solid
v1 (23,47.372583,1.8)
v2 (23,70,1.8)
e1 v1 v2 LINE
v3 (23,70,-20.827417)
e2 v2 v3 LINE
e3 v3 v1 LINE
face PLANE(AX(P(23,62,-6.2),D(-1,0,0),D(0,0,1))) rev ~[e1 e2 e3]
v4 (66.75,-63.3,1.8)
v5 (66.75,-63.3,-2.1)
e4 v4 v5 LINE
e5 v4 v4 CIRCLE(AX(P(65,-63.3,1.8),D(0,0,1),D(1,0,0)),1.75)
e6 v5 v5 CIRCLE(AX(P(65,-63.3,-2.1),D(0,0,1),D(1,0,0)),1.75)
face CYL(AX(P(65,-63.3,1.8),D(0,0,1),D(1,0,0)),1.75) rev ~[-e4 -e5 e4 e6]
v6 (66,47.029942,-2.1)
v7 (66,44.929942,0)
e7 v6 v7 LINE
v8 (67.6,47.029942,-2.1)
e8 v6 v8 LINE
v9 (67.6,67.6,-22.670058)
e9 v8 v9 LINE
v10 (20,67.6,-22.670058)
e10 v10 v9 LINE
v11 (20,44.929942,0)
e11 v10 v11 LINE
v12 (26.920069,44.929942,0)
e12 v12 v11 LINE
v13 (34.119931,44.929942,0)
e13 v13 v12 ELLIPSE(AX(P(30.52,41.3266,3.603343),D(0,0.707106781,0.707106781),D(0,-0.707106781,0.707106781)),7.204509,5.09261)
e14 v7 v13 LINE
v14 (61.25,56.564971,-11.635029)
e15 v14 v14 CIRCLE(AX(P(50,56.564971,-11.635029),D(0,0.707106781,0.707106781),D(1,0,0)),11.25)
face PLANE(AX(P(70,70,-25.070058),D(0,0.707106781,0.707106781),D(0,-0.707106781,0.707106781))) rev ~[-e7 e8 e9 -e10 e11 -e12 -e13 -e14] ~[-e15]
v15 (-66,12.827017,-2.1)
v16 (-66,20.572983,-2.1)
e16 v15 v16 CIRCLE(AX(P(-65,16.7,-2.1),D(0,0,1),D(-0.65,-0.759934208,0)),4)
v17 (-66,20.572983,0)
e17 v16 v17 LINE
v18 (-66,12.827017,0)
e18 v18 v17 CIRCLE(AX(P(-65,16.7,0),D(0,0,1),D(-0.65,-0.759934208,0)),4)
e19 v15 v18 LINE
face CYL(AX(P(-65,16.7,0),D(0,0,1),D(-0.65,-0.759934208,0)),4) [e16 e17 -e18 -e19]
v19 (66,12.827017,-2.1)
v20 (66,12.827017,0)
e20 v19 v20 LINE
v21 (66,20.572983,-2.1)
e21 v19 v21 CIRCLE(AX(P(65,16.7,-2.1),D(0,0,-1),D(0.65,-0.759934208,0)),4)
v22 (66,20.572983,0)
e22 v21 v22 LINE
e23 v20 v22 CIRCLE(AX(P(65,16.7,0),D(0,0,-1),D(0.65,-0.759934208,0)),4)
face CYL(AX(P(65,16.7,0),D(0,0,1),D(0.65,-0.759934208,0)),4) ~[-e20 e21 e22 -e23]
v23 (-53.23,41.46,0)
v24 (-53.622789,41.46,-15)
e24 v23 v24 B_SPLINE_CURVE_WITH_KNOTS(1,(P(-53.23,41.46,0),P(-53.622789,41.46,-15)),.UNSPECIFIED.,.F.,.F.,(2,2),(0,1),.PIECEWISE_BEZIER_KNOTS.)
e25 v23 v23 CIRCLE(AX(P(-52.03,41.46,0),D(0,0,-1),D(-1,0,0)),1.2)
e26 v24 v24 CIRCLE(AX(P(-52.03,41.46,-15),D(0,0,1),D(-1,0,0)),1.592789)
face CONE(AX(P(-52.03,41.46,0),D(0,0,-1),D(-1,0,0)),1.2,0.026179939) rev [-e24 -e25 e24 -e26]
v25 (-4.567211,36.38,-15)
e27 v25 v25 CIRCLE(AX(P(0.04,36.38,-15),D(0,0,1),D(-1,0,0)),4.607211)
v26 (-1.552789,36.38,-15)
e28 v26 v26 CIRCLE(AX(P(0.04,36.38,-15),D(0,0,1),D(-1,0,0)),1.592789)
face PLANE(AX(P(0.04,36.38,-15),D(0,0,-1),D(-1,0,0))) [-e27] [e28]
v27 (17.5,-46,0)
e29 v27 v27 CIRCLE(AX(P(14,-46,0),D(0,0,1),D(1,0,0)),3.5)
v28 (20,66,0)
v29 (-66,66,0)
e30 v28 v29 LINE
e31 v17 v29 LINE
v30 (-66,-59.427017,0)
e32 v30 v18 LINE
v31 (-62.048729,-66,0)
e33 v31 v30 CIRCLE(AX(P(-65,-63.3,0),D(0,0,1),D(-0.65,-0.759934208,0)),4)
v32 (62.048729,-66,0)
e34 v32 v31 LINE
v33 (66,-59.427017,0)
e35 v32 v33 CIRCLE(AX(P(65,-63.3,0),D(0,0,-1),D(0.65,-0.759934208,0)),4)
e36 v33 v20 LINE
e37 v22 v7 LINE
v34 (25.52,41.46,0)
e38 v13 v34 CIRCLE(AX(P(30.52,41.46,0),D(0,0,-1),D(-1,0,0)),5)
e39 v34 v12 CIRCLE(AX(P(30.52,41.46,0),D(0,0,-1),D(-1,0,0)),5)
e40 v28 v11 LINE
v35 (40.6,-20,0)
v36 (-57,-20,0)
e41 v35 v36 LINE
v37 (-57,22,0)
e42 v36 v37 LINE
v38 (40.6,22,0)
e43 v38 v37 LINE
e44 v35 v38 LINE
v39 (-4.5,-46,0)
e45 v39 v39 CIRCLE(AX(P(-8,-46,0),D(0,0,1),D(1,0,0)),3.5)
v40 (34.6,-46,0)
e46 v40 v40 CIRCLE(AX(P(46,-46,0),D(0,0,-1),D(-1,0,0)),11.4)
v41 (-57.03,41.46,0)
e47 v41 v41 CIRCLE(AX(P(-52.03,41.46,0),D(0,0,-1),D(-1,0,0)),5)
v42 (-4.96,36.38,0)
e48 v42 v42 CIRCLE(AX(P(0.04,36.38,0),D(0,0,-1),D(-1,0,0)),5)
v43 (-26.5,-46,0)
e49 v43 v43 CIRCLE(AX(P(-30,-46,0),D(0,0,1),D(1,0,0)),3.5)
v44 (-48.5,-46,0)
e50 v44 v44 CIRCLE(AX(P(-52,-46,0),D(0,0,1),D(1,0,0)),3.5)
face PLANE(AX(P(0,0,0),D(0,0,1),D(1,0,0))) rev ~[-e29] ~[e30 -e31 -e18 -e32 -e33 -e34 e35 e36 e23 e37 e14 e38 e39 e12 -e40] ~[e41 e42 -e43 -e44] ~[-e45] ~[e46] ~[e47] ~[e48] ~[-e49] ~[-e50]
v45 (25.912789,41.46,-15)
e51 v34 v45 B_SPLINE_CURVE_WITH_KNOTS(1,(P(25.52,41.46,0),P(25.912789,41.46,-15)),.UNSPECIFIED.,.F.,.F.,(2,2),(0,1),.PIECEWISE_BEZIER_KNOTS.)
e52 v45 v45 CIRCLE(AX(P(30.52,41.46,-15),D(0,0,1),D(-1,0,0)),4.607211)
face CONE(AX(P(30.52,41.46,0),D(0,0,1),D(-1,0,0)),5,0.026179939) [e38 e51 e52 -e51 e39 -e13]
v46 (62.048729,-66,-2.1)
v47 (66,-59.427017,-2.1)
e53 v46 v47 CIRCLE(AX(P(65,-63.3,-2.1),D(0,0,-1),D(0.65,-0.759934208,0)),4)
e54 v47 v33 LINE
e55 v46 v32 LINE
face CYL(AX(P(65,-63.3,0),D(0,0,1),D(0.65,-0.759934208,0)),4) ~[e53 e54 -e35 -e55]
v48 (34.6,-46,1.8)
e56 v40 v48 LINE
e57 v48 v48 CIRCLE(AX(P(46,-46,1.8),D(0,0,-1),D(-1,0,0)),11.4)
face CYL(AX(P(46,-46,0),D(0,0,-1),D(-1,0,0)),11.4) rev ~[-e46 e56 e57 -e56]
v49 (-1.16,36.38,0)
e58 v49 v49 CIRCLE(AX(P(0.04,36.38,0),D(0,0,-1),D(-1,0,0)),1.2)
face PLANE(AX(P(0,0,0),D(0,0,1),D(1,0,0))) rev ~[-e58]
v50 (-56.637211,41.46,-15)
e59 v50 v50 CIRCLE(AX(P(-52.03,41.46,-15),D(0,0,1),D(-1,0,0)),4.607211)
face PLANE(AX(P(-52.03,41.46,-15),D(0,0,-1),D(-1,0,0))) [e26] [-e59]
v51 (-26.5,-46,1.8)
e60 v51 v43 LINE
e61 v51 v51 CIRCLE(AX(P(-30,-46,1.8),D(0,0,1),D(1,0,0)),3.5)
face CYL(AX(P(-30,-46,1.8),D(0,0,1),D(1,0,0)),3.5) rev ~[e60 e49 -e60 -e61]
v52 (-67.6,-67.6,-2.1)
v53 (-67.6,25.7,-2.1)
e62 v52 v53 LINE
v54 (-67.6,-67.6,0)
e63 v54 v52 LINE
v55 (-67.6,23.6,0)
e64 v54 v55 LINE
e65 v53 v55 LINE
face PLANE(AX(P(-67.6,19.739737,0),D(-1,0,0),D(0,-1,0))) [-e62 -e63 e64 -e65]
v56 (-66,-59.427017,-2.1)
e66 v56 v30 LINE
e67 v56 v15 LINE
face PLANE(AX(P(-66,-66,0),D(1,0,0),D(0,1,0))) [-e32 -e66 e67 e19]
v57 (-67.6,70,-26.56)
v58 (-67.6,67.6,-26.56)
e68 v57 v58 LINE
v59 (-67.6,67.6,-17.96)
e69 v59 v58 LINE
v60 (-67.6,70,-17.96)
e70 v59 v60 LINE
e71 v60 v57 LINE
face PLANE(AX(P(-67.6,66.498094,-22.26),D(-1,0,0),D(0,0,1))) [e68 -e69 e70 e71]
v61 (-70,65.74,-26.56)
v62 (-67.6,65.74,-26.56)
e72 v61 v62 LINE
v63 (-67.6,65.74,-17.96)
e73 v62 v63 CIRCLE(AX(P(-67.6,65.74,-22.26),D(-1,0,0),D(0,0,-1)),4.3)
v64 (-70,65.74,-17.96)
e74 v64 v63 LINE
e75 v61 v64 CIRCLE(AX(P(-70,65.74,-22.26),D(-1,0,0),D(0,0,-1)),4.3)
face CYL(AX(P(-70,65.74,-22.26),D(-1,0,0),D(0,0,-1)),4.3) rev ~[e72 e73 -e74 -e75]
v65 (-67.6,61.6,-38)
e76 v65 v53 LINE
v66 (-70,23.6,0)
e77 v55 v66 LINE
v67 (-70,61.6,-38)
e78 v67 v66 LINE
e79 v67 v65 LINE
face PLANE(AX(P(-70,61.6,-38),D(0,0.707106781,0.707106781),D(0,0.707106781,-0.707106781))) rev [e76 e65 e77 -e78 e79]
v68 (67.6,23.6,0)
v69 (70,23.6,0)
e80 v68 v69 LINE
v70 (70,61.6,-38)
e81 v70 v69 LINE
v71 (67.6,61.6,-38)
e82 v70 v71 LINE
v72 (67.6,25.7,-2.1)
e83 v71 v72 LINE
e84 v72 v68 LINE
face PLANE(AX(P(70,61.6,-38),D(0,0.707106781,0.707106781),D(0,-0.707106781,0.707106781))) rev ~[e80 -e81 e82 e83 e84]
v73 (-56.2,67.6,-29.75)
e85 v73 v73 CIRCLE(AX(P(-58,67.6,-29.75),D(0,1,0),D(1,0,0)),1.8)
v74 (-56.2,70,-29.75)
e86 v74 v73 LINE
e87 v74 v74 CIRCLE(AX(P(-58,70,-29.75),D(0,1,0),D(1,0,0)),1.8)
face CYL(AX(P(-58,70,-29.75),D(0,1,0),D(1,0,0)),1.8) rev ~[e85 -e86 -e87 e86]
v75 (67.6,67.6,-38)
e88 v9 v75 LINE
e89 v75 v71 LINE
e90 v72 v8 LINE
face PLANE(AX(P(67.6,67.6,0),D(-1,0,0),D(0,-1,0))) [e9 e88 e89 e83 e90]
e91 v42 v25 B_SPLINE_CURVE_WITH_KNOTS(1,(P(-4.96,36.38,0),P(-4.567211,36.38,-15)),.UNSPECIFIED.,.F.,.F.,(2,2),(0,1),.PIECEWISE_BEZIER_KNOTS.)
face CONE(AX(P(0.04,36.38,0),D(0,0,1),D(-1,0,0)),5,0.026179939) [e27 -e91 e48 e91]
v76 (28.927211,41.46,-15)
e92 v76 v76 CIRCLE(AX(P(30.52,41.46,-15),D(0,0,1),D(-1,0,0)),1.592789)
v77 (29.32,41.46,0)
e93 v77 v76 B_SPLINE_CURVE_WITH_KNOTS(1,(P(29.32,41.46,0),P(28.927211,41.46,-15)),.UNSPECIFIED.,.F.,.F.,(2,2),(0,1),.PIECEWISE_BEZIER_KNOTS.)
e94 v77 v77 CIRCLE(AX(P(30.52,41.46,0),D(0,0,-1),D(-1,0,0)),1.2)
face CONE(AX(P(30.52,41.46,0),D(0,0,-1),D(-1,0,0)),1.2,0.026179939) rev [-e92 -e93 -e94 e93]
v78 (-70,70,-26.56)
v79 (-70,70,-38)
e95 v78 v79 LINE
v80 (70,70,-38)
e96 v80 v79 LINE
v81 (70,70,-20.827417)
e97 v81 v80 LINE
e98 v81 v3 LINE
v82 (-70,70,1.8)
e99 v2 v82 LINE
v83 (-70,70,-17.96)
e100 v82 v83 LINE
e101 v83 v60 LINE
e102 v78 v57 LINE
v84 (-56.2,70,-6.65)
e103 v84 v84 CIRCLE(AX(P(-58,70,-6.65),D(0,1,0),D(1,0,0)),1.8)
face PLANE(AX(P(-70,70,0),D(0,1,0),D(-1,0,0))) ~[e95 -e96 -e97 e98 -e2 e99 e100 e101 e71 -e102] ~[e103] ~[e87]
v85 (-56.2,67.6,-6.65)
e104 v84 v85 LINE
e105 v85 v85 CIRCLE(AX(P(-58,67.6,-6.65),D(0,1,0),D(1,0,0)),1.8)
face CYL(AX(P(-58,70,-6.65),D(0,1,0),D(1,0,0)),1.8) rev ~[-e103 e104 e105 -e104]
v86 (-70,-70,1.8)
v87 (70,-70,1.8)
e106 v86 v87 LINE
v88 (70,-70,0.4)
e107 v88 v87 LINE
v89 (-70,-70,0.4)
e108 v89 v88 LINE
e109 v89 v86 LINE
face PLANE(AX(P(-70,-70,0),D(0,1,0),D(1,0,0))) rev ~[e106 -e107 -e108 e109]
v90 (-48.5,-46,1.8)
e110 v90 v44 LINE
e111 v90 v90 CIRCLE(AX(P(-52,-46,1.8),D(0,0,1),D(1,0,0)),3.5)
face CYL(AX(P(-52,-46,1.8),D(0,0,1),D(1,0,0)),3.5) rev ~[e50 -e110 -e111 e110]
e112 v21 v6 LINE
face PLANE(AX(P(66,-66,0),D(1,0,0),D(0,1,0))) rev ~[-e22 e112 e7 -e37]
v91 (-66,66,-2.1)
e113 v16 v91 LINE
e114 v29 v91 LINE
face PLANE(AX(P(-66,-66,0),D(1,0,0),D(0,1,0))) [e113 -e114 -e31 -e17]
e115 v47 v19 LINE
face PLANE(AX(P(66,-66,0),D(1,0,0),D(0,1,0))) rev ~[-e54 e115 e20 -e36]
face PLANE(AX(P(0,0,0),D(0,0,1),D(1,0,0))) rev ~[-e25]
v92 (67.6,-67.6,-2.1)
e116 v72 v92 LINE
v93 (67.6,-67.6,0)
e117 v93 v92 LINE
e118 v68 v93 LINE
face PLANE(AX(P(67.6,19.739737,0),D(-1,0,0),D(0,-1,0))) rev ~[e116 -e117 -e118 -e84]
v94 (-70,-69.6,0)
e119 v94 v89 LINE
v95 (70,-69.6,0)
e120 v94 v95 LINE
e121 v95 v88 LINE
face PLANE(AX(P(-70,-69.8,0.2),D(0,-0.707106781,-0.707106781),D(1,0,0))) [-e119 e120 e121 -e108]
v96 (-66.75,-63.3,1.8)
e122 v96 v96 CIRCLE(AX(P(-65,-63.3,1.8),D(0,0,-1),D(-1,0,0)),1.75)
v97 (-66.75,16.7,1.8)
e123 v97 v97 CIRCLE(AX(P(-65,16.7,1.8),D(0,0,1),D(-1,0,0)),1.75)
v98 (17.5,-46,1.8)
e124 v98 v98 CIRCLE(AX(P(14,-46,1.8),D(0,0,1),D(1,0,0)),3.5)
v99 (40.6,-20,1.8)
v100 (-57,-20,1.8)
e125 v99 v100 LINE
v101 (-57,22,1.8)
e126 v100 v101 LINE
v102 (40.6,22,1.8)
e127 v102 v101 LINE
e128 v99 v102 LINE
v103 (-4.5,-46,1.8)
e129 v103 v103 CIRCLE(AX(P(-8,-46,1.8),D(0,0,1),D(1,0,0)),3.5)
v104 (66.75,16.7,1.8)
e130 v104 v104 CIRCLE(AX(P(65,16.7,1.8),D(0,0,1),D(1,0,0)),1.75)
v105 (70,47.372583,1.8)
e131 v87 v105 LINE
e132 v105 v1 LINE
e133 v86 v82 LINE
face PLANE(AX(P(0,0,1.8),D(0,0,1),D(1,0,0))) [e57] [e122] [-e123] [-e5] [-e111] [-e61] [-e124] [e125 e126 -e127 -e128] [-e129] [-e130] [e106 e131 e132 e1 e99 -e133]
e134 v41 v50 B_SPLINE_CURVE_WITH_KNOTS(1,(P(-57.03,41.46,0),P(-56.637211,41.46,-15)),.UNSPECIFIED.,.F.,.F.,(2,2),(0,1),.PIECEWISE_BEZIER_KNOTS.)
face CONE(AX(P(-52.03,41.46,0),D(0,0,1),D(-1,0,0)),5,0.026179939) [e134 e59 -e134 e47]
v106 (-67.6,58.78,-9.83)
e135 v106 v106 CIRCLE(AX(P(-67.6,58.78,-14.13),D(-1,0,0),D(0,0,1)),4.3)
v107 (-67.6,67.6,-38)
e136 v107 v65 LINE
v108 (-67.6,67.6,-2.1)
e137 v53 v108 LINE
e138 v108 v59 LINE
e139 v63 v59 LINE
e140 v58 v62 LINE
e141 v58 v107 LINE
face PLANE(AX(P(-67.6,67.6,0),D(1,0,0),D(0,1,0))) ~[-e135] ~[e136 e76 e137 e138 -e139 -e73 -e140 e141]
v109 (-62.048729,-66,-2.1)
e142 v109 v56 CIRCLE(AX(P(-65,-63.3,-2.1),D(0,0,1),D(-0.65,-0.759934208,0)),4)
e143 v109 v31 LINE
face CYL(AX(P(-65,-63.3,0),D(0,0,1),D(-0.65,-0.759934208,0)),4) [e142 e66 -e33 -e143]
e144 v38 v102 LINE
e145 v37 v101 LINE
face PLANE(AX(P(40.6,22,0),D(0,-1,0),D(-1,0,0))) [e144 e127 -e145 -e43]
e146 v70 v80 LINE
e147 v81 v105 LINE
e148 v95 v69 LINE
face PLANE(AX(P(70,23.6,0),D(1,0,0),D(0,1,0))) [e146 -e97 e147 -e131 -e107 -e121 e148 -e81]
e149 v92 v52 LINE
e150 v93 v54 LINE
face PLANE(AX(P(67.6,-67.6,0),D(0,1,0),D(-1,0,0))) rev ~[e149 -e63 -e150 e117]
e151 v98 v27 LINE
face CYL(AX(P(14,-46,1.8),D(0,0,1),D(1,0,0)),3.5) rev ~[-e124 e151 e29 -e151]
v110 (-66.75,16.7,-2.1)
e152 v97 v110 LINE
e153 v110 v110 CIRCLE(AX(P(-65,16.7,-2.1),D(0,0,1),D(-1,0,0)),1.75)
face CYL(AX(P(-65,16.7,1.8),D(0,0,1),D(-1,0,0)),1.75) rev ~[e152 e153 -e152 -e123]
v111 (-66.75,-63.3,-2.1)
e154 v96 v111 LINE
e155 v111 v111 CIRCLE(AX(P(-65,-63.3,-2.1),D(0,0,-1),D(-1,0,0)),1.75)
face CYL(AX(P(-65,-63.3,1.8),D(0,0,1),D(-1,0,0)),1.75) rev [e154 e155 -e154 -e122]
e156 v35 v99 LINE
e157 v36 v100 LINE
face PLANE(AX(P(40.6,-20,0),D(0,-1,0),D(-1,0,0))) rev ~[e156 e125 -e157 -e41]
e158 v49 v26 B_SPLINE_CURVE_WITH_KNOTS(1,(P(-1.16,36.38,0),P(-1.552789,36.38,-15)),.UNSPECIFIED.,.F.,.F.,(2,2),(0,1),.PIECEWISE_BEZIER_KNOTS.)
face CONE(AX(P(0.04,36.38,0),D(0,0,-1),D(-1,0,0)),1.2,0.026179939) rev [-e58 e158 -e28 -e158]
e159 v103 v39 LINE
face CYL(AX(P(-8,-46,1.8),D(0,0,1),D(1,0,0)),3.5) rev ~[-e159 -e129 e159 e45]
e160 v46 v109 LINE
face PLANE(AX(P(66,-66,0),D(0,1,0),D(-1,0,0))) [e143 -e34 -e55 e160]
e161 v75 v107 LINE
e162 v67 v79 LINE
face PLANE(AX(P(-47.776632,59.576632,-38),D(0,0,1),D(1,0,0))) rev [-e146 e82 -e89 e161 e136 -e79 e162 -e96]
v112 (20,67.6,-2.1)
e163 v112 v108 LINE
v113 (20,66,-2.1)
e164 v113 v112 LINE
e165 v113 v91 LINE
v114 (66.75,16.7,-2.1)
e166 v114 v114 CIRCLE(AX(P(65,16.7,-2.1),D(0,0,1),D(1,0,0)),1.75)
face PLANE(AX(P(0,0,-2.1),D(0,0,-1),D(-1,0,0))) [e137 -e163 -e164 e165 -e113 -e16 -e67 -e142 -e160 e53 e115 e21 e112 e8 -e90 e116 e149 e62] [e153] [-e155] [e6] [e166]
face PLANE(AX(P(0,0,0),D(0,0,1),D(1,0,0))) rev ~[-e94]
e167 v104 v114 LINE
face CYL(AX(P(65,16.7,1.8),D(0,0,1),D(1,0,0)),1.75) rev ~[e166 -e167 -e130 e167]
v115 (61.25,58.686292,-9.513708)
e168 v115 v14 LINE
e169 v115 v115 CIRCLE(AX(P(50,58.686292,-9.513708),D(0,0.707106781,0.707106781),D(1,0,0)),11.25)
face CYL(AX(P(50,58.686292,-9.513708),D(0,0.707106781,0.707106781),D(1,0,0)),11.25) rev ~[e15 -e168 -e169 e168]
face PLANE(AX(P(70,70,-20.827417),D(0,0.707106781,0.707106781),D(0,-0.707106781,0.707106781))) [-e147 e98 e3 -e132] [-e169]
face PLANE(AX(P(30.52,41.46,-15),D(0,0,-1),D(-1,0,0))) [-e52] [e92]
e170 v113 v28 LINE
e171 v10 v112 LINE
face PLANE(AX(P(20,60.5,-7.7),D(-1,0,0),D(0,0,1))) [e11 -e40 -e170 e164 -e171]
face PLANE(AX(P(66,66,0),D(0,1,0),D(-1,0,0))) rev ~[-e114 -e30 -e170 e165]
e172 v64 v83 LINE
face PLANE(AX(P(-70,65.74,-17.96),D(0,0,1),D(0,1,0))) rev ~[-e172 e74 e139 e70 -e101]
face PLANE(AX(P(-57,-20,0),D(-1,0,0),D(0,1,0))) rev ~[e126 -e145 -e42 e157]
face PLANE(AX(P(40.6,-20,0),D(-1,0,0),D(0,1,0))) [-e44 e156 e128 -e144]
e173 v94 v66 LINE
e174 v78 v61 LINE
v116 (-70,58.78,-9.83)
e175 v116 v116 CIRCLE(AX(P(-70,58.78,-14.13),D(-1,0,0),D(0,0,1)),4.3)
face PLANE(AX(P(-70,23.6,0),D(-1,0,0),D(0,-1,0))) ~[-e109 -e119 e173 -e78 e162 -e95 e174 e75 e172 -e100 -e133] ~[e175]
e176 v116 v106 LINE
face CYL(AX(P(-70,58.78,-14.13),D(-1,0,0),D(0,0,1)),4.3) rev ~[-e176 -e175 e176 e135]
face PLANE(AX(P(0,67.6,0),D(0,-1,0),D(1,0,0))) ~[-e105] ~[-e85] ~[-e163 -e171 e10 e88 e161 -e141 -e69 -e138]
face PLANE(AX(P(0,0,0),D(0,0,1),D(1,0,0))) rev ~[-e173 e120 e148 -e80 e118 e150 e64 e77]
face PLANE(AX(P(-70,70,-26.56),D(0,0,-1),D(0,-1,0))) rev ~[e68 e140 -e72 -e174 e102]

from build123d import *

# Parameters (mm, degrees)
CROQUIS1_W               = 140
CROQUIS1_H               = 140
FRENTE_DEPTH             = 1.8
CROQUIS32_W              = 135.2
CROQUIS32_H              = 135.2
CROQUIS32_W_2            = 132
CROQUIS32_H_2            = 132
SALIENTE_EXTRUIR5_DEPTH  = 2.1
SALIENTE_EXTRUIR6_DEPTH  = 2.1
VISERA_DEPTH             = 38
CORTAR_EXTRUIR1_DEPTH    = 2.4
SALIENTE_EXTRUIR9_DEPTH  = 50
CORTAR_EXTRUIR4_DEPTH    = 47
O_PE_REACH               = 113.138
CROQUIS39_R              = 11.25
CROQUIS15_R              = 1.75
ROSCA_DEPTH              = 3.9
MATRIZL1_COUNT           = 2
MATRIZL1_PITCH           = 80
MATRIZL1_COPY_1_DEPTH    = 2.1
MATRIZL1_COPY_2_SKETCH_R = 1.75
MATRIZL1_COPY_2_DEPTH    = 3.9
VISTA_DISPLAY_REACH      = 3.8
CROQUIS19_W              = 97.6
CROQUIS19_H              = 42
CROQUIS24_R              = 3.5
POTENCIOMETROS_DEPTH     = 1.8
MATRIZL3_COUNT           = 4
MATRIZL3_PITCH           = 22
CORTAR_EXTRUIR2_REACH    = 3.8
CROQUIS36_R              = 11.4
CHAFL_N1_SIZE            = 0.4
MPX_MOUNT_REACH          = 142
CROQUIS40_R              = 1.8
CROQUIS41_R              = 4.3
MPX_TUBBING_DEPTH        = 2.4
CROQUIS210_R             = 5
CROQUIS210_R_2           = 1.2
MEGA_UNO1_DEPTH          = 15
MEGA_UNO1_TAPER          = 1.5


with BuildPart() as part:
    # Croquis1 → FRENTE (new body)
    with BuildSketch(Plane.XY):
        Rectangle(CROQUIS1_W, CROQUIS1_H)
    extrude(amount=FRENTE_DEPTH)

    # Croquis32 → Saliente-Extruir5 (add)
    with BuildSketch(Plane(origin=(0, 0, 0), x_dir=(-1, 0, 0), z_dir=(0, 0, -1))):
        Rectangle(CROQUIS32_W, CROQUIS32_H)
        Rectangle(CROQUIS32_W_2, CROQUIS32_H_2, mode=Mode.SUBTRACT)
    extrude(amount=SALIENTE_EXTRUIR5_DEPTH)

    # Croquis33 → Saliente-Extruir6 (add)
    with BuildSketch(Plane(origin=(0, 0, 0), x_dir=(-1, 0, 0), z_dir=(0, 0, -1))):
        with BuildLine():
            Line((-67.6, -60.260263169), (-67.6, -66.339736831))
            ThreePointArc((-67.6, -66.339736831), (-61, -63.3), (-67.6, -60.260263169))
        make_face()
    saliente_extruir6 = extrude(amount=SALIENTE_EXTRUIR6_DEPTH)

    # Croquis29 → VISERA (add)
    with BuildSketch(Plane(origin=(0, 0, 0), x_dir=(-1, 0, 0), z_dir=(0, 0, -1))):
        Polygon((-70, 23.6), (-70, 70), (0, 70), (0, 67.6), (-67.6, 67.6), (-67.6, 23.6), align=None)
    visera = extrude(amount=VISERA_DEPTH)

    # Croquis30 → Cortar-Extruir1 (cut)
    with BuildSketch(Plane(origin=(70, 0, 0), x_dir=(0, 0, -1), z_dir=(1, 0, 0))):
        Polygon((0, 23.6), (38, 23.6), (38, 61.6), align=None)
    cortar_extruir1 = extrude(amount=-CORTAR_EXTRUIR1_DEPTH, mode=Mode.SUBTRACT)

    # Simetría3: VISERA, Cortar-Extruir1 across plane
    add(visera.mirror(Plane(origin=(0, 0, 0), x_dir=(0, 0, 1), z_dir=(1, 0, 0))))
    add(cortar_extruir1.mirror(Plane(origin=(0, 0, 0), x_dir=(0, 0, 1), z_dir=(1, 0, 0))), mode=Mode.SUBTRACT)

    # Croquis37 → Saliente-Extruir9 (add)
    with BuildSketch(Plane(origin=(70, 0, 0), x_dir=(0, 0, -1), z_dir=(1, 0, 0))):
        Polygon((25.070057685, 70), (-1.8, 43.129942315), (-1.8, 70), align=None)
    extrude(amount=-SALIENTE_EXTRUIR9_DEPTH)

    # Croquis38 → Cortar-Extruir4 (cut)
    with BuildSketch(Plane(origin=(70, 0, 0), x_dir=(0, 0, -1), z_dir=(1, 0, 0))):
        Polygon((20.827416998, 70), (-1.8, 47.372583002), (-1.8, 70), align=None)
    extrude(amount=-CORTAR_EXTRUIR4_DEPTH, mode=Mode.SUBTRACT)

    # Croquis39 → O-PE (cut, up to next)
    with BuildSketch(Plane(origin=(0, 24.586291501, 24.586291501), x_dir=(1, 0, 0), z_dir=(0, 0.707106781, 0.707106781)), mode=Mode.PRIVATE) as o_pe_sk1:
        with Locations((50, 48.224682477)):
            Circle(CROQUIS39_R)
    o_pe_tool1 = extrude(o_pe_sk1.sketch, amount=-O_PE_REACH, mode=Mode.PRIVATE) & part.part
    add(o_pe_tool1.solids().sort_by_distance((50, 58.686292, -9.513708))[0], mode=Mode.SUBTRACT)

    # Croquis15 → ROSCA (cut)
    with BuildSketch(Plane.XY.offset(1.8)):
        with Locations((65, -63.3)):
            Circle(CROQUIS15_R)
    rosca = extrude(amount=-ROSCA_DEPTH, mode=Mode.SUBTRACT)

    # Simetría4: Saliente-Extruir6, ROSCA across plane
    add(saliente_extruir6.mirror(Plane(origin=(0, 0, 0), x_dir=(0, 0, 1), z_dir=(1, 0, 0))))
    add(rosca.mirror(Plane(origin=(0, 0, 0), x_dir=(0, 0, 1), z_dir=(1, 0, 0))), mode=Mode.SUBTRACT)

    # MatrizL1: Saliente-Extruir6, ROSCA ×2
    with Locations(*[(0, i * MATRIZL1_PITCH, 0) for i in range(1, MATRIZL1_COUNT)]):
        add(saliente_extruir6)
        add(rosca, mode=Mode.SUBTRACT)

    # MatrizL1 copy 1 sketch → MatrizL1 copy 1 (add)
    with BuildSketch(Plane(origin=(0, 80, 0), x_dir=(1, 0, 0), z_dir=(0, 0, -1))):
        with BuildLine():
            Line((-67.6, 60.260263169), (-67.6, 66.339736831))
            ThreePointArc((-67.6, 66.339736831), (-61, 63.3), (-67.6, 60.260263169))
        make_face()
    extrude(amount=MATRIZL1_COPY_1_DEPTH)

    # MatrizL1 copy 2 sketch → MatrizL1 copy 2 (cut)
    with BuildSketch(Plane(origin=(0, 80, 1.8), x_dir=(-1, 0, 0), z_dir=(0, 0, 1))):
        with Locations((65, 63.3)):
            Circle(MATRIZL1_COPY_2_SKETCH_R)
    extrude(amount=-MATRIZL1_COPY_2_DEPTH, mode=Mode.SUBTRACT)

    # Croquis19 → VISTA-DISPLAY (cut, up to next)
    with BuildSketch(Plane(origin=(0, 0, 0), x_dir=(-1, 0, 0), z_dir=(0, 0, -1)), mode=Mode.PRIVATE) as vista_display_sk1:
        with Locations((8.2, 1)):
            Rectangle(CROQUIS19_W, CROQUIS19_H)
    vista_display_tool1 = extrude(vista_display_sk1.sketch, amount=-VISTA_DISPLAY_REACH, mode=Mode.PRIVATE) & part.part
    add(vista_display_tool1.solids().sort_by_distance((-8.2, 1, 0))[0], mode=Mode.SUBTRACT)

    # Croquis24 → POTENCIOMETROS (cut)
    with BuildSketch(Plane.XY.offset(1.8)):
        with Locations((-52, -46)):
            Circle(CROQUIS24_R)
    potenciometros = extrude(amount=-POTENCIOMETROS_DEPTH, mode=Mode.SUBTRACT)

    # MatrizL3: POTENCIOMETROS ×4
    with Locations(*[(i * MATRIZL3_PITCH, 0, 0) for i in range(1, MATRIZL3_COUNT)]):
        add(potenciometros, mode=Mode.SUBTRACT)

    # Croquis36 → Cortar-Extruir2 (cut, up to next)
    with BuildSketch(Plane(origin=(0, 0, 0), x_dir=(-1, 0, 0), z_dir=(0, 0, -1)), mode=Mode.PRIVATE) as cortar_extruir2_sk1:
        with Locations((-46, -46)):
            Circle(CROQUIS36_R)
    cortar_extruir2_tool1 = extrude(cortar_extruir2_sk1.sketch, amount=-CORTAR_EXTRUIR2_REACH, mode=Mode.PRIVATE) & part.part
    add(cortar_extruir2_tool1.solids().sort_by_distance((46, -46, 0))[0], mode=Mode.SUBTRACT)

    # Chaflán1
    chafl_n1_edges = [part.edges().sort_by_distance(p)[0] for p in [
        (0, -70, 0),
    ]]
    chamfer(chafl_n1_edges, length=CHAFL_N1_SIZE)

    # Croquis40 → MPX-MOUNT (cut, up to next)
    with BuildSketch(Plane(origin=(0, 70, 0), x_dir=(1, 0, 0), z_dir=(0, 1, 0)), mode=Mode.PRIVATE) as mpx_mount_sk1:
        with Locations((-58, 29.75)):
            Circle(CROQUIS40_R)
    mpx_mount_tool1 = extrude(mpx_mount_sk1.sketch, amount=-MPX_MOUNT_REACH, mode=Mode.PRIVATE) & part.part
    add(mpx_mount_tool1.solids().sort_by_distance((-58, 70, -29.75))[0], mode=Mode.SUBTRACT)
    # Croquis40 → MPX-MOUNT (cut, up to next)
    with BuildSketch(Plane(origin=(0, 70, 0), x_dir=(1, 0, 0), z_dir=(0, 1, 0)), mode=Mode.PRIVATE) as mpx_mount_sk2:
        with Locations((-58, 6.65)):
            Circle(CROQUIS40_R)
    mpx_mount_tool2 = extrude(mpx_mount_sk2.sketch, amount=-MPX_MOUNT_REACH, mode=Mode.PRIVATE) & part.part
    add(mpx_mount_tool2.solids().sort_by_distance((-58, 70, -6.65))[0], mode=Mode.SUBTRACT)

    # Croquis41 → MPX-TUBBING (cut)
    with BuildSketch(Plane.ZY.offset(70)):
        with Locations((-14.13, 58.78)):
            Circle(CROQUIS41_R)
        with BuildLine():
            Line((-26.56, 70), (-26.56, 65.74))
            ThreePointArc((-26.56, 65.74), (-22.26, 61.44), (-17.96, 65.74))
            Line((-17.96, 65.74), (-17.96, 70))
            Line((-17.96, 70), (-26.56, 70))
        make_face()
    extrude(amount=-MPX_TUBBING_DEPTH, mode=Mode.SUBTRACT)

    # Croquis210 → Mega-UNO1 (add)
    with BuildSketch(Plane(origin=(-7.163025125, 18.178552878, 0), x_dir=(-1, 0, 0), z_dir=(0, 0, -1))):
        with Locations((44.866974875, 23.281447122)):
            Circle(CROQUIS210_R)
        with Locations((44.866974875, 23.281447122)):
            Circle(CROQUIS210_R_2, mode=Mode.SUBTRACT)
        with Locations((-7.203025125, 18.201447122)):
            Circle(CROQUIS210_R)
        with Locations((-7.203025125, 18.201447122)):
            Circle(CROQUIS210_R_2, mode=Mode.SUBTRACT)
        with Locations((-37.683025125, 23.281447122)):
            Circle(CROQUIS210_R)
        with Locations((-37.683025125, 23.281447122)):
            Circle(CROQUIS210_R_2, mode=Mode.SUBTRACT)
    extrude(amount=MEGA_UNO1_DEPTH, taper=MEGA_UNO1_TAPER)


solid = part.part
